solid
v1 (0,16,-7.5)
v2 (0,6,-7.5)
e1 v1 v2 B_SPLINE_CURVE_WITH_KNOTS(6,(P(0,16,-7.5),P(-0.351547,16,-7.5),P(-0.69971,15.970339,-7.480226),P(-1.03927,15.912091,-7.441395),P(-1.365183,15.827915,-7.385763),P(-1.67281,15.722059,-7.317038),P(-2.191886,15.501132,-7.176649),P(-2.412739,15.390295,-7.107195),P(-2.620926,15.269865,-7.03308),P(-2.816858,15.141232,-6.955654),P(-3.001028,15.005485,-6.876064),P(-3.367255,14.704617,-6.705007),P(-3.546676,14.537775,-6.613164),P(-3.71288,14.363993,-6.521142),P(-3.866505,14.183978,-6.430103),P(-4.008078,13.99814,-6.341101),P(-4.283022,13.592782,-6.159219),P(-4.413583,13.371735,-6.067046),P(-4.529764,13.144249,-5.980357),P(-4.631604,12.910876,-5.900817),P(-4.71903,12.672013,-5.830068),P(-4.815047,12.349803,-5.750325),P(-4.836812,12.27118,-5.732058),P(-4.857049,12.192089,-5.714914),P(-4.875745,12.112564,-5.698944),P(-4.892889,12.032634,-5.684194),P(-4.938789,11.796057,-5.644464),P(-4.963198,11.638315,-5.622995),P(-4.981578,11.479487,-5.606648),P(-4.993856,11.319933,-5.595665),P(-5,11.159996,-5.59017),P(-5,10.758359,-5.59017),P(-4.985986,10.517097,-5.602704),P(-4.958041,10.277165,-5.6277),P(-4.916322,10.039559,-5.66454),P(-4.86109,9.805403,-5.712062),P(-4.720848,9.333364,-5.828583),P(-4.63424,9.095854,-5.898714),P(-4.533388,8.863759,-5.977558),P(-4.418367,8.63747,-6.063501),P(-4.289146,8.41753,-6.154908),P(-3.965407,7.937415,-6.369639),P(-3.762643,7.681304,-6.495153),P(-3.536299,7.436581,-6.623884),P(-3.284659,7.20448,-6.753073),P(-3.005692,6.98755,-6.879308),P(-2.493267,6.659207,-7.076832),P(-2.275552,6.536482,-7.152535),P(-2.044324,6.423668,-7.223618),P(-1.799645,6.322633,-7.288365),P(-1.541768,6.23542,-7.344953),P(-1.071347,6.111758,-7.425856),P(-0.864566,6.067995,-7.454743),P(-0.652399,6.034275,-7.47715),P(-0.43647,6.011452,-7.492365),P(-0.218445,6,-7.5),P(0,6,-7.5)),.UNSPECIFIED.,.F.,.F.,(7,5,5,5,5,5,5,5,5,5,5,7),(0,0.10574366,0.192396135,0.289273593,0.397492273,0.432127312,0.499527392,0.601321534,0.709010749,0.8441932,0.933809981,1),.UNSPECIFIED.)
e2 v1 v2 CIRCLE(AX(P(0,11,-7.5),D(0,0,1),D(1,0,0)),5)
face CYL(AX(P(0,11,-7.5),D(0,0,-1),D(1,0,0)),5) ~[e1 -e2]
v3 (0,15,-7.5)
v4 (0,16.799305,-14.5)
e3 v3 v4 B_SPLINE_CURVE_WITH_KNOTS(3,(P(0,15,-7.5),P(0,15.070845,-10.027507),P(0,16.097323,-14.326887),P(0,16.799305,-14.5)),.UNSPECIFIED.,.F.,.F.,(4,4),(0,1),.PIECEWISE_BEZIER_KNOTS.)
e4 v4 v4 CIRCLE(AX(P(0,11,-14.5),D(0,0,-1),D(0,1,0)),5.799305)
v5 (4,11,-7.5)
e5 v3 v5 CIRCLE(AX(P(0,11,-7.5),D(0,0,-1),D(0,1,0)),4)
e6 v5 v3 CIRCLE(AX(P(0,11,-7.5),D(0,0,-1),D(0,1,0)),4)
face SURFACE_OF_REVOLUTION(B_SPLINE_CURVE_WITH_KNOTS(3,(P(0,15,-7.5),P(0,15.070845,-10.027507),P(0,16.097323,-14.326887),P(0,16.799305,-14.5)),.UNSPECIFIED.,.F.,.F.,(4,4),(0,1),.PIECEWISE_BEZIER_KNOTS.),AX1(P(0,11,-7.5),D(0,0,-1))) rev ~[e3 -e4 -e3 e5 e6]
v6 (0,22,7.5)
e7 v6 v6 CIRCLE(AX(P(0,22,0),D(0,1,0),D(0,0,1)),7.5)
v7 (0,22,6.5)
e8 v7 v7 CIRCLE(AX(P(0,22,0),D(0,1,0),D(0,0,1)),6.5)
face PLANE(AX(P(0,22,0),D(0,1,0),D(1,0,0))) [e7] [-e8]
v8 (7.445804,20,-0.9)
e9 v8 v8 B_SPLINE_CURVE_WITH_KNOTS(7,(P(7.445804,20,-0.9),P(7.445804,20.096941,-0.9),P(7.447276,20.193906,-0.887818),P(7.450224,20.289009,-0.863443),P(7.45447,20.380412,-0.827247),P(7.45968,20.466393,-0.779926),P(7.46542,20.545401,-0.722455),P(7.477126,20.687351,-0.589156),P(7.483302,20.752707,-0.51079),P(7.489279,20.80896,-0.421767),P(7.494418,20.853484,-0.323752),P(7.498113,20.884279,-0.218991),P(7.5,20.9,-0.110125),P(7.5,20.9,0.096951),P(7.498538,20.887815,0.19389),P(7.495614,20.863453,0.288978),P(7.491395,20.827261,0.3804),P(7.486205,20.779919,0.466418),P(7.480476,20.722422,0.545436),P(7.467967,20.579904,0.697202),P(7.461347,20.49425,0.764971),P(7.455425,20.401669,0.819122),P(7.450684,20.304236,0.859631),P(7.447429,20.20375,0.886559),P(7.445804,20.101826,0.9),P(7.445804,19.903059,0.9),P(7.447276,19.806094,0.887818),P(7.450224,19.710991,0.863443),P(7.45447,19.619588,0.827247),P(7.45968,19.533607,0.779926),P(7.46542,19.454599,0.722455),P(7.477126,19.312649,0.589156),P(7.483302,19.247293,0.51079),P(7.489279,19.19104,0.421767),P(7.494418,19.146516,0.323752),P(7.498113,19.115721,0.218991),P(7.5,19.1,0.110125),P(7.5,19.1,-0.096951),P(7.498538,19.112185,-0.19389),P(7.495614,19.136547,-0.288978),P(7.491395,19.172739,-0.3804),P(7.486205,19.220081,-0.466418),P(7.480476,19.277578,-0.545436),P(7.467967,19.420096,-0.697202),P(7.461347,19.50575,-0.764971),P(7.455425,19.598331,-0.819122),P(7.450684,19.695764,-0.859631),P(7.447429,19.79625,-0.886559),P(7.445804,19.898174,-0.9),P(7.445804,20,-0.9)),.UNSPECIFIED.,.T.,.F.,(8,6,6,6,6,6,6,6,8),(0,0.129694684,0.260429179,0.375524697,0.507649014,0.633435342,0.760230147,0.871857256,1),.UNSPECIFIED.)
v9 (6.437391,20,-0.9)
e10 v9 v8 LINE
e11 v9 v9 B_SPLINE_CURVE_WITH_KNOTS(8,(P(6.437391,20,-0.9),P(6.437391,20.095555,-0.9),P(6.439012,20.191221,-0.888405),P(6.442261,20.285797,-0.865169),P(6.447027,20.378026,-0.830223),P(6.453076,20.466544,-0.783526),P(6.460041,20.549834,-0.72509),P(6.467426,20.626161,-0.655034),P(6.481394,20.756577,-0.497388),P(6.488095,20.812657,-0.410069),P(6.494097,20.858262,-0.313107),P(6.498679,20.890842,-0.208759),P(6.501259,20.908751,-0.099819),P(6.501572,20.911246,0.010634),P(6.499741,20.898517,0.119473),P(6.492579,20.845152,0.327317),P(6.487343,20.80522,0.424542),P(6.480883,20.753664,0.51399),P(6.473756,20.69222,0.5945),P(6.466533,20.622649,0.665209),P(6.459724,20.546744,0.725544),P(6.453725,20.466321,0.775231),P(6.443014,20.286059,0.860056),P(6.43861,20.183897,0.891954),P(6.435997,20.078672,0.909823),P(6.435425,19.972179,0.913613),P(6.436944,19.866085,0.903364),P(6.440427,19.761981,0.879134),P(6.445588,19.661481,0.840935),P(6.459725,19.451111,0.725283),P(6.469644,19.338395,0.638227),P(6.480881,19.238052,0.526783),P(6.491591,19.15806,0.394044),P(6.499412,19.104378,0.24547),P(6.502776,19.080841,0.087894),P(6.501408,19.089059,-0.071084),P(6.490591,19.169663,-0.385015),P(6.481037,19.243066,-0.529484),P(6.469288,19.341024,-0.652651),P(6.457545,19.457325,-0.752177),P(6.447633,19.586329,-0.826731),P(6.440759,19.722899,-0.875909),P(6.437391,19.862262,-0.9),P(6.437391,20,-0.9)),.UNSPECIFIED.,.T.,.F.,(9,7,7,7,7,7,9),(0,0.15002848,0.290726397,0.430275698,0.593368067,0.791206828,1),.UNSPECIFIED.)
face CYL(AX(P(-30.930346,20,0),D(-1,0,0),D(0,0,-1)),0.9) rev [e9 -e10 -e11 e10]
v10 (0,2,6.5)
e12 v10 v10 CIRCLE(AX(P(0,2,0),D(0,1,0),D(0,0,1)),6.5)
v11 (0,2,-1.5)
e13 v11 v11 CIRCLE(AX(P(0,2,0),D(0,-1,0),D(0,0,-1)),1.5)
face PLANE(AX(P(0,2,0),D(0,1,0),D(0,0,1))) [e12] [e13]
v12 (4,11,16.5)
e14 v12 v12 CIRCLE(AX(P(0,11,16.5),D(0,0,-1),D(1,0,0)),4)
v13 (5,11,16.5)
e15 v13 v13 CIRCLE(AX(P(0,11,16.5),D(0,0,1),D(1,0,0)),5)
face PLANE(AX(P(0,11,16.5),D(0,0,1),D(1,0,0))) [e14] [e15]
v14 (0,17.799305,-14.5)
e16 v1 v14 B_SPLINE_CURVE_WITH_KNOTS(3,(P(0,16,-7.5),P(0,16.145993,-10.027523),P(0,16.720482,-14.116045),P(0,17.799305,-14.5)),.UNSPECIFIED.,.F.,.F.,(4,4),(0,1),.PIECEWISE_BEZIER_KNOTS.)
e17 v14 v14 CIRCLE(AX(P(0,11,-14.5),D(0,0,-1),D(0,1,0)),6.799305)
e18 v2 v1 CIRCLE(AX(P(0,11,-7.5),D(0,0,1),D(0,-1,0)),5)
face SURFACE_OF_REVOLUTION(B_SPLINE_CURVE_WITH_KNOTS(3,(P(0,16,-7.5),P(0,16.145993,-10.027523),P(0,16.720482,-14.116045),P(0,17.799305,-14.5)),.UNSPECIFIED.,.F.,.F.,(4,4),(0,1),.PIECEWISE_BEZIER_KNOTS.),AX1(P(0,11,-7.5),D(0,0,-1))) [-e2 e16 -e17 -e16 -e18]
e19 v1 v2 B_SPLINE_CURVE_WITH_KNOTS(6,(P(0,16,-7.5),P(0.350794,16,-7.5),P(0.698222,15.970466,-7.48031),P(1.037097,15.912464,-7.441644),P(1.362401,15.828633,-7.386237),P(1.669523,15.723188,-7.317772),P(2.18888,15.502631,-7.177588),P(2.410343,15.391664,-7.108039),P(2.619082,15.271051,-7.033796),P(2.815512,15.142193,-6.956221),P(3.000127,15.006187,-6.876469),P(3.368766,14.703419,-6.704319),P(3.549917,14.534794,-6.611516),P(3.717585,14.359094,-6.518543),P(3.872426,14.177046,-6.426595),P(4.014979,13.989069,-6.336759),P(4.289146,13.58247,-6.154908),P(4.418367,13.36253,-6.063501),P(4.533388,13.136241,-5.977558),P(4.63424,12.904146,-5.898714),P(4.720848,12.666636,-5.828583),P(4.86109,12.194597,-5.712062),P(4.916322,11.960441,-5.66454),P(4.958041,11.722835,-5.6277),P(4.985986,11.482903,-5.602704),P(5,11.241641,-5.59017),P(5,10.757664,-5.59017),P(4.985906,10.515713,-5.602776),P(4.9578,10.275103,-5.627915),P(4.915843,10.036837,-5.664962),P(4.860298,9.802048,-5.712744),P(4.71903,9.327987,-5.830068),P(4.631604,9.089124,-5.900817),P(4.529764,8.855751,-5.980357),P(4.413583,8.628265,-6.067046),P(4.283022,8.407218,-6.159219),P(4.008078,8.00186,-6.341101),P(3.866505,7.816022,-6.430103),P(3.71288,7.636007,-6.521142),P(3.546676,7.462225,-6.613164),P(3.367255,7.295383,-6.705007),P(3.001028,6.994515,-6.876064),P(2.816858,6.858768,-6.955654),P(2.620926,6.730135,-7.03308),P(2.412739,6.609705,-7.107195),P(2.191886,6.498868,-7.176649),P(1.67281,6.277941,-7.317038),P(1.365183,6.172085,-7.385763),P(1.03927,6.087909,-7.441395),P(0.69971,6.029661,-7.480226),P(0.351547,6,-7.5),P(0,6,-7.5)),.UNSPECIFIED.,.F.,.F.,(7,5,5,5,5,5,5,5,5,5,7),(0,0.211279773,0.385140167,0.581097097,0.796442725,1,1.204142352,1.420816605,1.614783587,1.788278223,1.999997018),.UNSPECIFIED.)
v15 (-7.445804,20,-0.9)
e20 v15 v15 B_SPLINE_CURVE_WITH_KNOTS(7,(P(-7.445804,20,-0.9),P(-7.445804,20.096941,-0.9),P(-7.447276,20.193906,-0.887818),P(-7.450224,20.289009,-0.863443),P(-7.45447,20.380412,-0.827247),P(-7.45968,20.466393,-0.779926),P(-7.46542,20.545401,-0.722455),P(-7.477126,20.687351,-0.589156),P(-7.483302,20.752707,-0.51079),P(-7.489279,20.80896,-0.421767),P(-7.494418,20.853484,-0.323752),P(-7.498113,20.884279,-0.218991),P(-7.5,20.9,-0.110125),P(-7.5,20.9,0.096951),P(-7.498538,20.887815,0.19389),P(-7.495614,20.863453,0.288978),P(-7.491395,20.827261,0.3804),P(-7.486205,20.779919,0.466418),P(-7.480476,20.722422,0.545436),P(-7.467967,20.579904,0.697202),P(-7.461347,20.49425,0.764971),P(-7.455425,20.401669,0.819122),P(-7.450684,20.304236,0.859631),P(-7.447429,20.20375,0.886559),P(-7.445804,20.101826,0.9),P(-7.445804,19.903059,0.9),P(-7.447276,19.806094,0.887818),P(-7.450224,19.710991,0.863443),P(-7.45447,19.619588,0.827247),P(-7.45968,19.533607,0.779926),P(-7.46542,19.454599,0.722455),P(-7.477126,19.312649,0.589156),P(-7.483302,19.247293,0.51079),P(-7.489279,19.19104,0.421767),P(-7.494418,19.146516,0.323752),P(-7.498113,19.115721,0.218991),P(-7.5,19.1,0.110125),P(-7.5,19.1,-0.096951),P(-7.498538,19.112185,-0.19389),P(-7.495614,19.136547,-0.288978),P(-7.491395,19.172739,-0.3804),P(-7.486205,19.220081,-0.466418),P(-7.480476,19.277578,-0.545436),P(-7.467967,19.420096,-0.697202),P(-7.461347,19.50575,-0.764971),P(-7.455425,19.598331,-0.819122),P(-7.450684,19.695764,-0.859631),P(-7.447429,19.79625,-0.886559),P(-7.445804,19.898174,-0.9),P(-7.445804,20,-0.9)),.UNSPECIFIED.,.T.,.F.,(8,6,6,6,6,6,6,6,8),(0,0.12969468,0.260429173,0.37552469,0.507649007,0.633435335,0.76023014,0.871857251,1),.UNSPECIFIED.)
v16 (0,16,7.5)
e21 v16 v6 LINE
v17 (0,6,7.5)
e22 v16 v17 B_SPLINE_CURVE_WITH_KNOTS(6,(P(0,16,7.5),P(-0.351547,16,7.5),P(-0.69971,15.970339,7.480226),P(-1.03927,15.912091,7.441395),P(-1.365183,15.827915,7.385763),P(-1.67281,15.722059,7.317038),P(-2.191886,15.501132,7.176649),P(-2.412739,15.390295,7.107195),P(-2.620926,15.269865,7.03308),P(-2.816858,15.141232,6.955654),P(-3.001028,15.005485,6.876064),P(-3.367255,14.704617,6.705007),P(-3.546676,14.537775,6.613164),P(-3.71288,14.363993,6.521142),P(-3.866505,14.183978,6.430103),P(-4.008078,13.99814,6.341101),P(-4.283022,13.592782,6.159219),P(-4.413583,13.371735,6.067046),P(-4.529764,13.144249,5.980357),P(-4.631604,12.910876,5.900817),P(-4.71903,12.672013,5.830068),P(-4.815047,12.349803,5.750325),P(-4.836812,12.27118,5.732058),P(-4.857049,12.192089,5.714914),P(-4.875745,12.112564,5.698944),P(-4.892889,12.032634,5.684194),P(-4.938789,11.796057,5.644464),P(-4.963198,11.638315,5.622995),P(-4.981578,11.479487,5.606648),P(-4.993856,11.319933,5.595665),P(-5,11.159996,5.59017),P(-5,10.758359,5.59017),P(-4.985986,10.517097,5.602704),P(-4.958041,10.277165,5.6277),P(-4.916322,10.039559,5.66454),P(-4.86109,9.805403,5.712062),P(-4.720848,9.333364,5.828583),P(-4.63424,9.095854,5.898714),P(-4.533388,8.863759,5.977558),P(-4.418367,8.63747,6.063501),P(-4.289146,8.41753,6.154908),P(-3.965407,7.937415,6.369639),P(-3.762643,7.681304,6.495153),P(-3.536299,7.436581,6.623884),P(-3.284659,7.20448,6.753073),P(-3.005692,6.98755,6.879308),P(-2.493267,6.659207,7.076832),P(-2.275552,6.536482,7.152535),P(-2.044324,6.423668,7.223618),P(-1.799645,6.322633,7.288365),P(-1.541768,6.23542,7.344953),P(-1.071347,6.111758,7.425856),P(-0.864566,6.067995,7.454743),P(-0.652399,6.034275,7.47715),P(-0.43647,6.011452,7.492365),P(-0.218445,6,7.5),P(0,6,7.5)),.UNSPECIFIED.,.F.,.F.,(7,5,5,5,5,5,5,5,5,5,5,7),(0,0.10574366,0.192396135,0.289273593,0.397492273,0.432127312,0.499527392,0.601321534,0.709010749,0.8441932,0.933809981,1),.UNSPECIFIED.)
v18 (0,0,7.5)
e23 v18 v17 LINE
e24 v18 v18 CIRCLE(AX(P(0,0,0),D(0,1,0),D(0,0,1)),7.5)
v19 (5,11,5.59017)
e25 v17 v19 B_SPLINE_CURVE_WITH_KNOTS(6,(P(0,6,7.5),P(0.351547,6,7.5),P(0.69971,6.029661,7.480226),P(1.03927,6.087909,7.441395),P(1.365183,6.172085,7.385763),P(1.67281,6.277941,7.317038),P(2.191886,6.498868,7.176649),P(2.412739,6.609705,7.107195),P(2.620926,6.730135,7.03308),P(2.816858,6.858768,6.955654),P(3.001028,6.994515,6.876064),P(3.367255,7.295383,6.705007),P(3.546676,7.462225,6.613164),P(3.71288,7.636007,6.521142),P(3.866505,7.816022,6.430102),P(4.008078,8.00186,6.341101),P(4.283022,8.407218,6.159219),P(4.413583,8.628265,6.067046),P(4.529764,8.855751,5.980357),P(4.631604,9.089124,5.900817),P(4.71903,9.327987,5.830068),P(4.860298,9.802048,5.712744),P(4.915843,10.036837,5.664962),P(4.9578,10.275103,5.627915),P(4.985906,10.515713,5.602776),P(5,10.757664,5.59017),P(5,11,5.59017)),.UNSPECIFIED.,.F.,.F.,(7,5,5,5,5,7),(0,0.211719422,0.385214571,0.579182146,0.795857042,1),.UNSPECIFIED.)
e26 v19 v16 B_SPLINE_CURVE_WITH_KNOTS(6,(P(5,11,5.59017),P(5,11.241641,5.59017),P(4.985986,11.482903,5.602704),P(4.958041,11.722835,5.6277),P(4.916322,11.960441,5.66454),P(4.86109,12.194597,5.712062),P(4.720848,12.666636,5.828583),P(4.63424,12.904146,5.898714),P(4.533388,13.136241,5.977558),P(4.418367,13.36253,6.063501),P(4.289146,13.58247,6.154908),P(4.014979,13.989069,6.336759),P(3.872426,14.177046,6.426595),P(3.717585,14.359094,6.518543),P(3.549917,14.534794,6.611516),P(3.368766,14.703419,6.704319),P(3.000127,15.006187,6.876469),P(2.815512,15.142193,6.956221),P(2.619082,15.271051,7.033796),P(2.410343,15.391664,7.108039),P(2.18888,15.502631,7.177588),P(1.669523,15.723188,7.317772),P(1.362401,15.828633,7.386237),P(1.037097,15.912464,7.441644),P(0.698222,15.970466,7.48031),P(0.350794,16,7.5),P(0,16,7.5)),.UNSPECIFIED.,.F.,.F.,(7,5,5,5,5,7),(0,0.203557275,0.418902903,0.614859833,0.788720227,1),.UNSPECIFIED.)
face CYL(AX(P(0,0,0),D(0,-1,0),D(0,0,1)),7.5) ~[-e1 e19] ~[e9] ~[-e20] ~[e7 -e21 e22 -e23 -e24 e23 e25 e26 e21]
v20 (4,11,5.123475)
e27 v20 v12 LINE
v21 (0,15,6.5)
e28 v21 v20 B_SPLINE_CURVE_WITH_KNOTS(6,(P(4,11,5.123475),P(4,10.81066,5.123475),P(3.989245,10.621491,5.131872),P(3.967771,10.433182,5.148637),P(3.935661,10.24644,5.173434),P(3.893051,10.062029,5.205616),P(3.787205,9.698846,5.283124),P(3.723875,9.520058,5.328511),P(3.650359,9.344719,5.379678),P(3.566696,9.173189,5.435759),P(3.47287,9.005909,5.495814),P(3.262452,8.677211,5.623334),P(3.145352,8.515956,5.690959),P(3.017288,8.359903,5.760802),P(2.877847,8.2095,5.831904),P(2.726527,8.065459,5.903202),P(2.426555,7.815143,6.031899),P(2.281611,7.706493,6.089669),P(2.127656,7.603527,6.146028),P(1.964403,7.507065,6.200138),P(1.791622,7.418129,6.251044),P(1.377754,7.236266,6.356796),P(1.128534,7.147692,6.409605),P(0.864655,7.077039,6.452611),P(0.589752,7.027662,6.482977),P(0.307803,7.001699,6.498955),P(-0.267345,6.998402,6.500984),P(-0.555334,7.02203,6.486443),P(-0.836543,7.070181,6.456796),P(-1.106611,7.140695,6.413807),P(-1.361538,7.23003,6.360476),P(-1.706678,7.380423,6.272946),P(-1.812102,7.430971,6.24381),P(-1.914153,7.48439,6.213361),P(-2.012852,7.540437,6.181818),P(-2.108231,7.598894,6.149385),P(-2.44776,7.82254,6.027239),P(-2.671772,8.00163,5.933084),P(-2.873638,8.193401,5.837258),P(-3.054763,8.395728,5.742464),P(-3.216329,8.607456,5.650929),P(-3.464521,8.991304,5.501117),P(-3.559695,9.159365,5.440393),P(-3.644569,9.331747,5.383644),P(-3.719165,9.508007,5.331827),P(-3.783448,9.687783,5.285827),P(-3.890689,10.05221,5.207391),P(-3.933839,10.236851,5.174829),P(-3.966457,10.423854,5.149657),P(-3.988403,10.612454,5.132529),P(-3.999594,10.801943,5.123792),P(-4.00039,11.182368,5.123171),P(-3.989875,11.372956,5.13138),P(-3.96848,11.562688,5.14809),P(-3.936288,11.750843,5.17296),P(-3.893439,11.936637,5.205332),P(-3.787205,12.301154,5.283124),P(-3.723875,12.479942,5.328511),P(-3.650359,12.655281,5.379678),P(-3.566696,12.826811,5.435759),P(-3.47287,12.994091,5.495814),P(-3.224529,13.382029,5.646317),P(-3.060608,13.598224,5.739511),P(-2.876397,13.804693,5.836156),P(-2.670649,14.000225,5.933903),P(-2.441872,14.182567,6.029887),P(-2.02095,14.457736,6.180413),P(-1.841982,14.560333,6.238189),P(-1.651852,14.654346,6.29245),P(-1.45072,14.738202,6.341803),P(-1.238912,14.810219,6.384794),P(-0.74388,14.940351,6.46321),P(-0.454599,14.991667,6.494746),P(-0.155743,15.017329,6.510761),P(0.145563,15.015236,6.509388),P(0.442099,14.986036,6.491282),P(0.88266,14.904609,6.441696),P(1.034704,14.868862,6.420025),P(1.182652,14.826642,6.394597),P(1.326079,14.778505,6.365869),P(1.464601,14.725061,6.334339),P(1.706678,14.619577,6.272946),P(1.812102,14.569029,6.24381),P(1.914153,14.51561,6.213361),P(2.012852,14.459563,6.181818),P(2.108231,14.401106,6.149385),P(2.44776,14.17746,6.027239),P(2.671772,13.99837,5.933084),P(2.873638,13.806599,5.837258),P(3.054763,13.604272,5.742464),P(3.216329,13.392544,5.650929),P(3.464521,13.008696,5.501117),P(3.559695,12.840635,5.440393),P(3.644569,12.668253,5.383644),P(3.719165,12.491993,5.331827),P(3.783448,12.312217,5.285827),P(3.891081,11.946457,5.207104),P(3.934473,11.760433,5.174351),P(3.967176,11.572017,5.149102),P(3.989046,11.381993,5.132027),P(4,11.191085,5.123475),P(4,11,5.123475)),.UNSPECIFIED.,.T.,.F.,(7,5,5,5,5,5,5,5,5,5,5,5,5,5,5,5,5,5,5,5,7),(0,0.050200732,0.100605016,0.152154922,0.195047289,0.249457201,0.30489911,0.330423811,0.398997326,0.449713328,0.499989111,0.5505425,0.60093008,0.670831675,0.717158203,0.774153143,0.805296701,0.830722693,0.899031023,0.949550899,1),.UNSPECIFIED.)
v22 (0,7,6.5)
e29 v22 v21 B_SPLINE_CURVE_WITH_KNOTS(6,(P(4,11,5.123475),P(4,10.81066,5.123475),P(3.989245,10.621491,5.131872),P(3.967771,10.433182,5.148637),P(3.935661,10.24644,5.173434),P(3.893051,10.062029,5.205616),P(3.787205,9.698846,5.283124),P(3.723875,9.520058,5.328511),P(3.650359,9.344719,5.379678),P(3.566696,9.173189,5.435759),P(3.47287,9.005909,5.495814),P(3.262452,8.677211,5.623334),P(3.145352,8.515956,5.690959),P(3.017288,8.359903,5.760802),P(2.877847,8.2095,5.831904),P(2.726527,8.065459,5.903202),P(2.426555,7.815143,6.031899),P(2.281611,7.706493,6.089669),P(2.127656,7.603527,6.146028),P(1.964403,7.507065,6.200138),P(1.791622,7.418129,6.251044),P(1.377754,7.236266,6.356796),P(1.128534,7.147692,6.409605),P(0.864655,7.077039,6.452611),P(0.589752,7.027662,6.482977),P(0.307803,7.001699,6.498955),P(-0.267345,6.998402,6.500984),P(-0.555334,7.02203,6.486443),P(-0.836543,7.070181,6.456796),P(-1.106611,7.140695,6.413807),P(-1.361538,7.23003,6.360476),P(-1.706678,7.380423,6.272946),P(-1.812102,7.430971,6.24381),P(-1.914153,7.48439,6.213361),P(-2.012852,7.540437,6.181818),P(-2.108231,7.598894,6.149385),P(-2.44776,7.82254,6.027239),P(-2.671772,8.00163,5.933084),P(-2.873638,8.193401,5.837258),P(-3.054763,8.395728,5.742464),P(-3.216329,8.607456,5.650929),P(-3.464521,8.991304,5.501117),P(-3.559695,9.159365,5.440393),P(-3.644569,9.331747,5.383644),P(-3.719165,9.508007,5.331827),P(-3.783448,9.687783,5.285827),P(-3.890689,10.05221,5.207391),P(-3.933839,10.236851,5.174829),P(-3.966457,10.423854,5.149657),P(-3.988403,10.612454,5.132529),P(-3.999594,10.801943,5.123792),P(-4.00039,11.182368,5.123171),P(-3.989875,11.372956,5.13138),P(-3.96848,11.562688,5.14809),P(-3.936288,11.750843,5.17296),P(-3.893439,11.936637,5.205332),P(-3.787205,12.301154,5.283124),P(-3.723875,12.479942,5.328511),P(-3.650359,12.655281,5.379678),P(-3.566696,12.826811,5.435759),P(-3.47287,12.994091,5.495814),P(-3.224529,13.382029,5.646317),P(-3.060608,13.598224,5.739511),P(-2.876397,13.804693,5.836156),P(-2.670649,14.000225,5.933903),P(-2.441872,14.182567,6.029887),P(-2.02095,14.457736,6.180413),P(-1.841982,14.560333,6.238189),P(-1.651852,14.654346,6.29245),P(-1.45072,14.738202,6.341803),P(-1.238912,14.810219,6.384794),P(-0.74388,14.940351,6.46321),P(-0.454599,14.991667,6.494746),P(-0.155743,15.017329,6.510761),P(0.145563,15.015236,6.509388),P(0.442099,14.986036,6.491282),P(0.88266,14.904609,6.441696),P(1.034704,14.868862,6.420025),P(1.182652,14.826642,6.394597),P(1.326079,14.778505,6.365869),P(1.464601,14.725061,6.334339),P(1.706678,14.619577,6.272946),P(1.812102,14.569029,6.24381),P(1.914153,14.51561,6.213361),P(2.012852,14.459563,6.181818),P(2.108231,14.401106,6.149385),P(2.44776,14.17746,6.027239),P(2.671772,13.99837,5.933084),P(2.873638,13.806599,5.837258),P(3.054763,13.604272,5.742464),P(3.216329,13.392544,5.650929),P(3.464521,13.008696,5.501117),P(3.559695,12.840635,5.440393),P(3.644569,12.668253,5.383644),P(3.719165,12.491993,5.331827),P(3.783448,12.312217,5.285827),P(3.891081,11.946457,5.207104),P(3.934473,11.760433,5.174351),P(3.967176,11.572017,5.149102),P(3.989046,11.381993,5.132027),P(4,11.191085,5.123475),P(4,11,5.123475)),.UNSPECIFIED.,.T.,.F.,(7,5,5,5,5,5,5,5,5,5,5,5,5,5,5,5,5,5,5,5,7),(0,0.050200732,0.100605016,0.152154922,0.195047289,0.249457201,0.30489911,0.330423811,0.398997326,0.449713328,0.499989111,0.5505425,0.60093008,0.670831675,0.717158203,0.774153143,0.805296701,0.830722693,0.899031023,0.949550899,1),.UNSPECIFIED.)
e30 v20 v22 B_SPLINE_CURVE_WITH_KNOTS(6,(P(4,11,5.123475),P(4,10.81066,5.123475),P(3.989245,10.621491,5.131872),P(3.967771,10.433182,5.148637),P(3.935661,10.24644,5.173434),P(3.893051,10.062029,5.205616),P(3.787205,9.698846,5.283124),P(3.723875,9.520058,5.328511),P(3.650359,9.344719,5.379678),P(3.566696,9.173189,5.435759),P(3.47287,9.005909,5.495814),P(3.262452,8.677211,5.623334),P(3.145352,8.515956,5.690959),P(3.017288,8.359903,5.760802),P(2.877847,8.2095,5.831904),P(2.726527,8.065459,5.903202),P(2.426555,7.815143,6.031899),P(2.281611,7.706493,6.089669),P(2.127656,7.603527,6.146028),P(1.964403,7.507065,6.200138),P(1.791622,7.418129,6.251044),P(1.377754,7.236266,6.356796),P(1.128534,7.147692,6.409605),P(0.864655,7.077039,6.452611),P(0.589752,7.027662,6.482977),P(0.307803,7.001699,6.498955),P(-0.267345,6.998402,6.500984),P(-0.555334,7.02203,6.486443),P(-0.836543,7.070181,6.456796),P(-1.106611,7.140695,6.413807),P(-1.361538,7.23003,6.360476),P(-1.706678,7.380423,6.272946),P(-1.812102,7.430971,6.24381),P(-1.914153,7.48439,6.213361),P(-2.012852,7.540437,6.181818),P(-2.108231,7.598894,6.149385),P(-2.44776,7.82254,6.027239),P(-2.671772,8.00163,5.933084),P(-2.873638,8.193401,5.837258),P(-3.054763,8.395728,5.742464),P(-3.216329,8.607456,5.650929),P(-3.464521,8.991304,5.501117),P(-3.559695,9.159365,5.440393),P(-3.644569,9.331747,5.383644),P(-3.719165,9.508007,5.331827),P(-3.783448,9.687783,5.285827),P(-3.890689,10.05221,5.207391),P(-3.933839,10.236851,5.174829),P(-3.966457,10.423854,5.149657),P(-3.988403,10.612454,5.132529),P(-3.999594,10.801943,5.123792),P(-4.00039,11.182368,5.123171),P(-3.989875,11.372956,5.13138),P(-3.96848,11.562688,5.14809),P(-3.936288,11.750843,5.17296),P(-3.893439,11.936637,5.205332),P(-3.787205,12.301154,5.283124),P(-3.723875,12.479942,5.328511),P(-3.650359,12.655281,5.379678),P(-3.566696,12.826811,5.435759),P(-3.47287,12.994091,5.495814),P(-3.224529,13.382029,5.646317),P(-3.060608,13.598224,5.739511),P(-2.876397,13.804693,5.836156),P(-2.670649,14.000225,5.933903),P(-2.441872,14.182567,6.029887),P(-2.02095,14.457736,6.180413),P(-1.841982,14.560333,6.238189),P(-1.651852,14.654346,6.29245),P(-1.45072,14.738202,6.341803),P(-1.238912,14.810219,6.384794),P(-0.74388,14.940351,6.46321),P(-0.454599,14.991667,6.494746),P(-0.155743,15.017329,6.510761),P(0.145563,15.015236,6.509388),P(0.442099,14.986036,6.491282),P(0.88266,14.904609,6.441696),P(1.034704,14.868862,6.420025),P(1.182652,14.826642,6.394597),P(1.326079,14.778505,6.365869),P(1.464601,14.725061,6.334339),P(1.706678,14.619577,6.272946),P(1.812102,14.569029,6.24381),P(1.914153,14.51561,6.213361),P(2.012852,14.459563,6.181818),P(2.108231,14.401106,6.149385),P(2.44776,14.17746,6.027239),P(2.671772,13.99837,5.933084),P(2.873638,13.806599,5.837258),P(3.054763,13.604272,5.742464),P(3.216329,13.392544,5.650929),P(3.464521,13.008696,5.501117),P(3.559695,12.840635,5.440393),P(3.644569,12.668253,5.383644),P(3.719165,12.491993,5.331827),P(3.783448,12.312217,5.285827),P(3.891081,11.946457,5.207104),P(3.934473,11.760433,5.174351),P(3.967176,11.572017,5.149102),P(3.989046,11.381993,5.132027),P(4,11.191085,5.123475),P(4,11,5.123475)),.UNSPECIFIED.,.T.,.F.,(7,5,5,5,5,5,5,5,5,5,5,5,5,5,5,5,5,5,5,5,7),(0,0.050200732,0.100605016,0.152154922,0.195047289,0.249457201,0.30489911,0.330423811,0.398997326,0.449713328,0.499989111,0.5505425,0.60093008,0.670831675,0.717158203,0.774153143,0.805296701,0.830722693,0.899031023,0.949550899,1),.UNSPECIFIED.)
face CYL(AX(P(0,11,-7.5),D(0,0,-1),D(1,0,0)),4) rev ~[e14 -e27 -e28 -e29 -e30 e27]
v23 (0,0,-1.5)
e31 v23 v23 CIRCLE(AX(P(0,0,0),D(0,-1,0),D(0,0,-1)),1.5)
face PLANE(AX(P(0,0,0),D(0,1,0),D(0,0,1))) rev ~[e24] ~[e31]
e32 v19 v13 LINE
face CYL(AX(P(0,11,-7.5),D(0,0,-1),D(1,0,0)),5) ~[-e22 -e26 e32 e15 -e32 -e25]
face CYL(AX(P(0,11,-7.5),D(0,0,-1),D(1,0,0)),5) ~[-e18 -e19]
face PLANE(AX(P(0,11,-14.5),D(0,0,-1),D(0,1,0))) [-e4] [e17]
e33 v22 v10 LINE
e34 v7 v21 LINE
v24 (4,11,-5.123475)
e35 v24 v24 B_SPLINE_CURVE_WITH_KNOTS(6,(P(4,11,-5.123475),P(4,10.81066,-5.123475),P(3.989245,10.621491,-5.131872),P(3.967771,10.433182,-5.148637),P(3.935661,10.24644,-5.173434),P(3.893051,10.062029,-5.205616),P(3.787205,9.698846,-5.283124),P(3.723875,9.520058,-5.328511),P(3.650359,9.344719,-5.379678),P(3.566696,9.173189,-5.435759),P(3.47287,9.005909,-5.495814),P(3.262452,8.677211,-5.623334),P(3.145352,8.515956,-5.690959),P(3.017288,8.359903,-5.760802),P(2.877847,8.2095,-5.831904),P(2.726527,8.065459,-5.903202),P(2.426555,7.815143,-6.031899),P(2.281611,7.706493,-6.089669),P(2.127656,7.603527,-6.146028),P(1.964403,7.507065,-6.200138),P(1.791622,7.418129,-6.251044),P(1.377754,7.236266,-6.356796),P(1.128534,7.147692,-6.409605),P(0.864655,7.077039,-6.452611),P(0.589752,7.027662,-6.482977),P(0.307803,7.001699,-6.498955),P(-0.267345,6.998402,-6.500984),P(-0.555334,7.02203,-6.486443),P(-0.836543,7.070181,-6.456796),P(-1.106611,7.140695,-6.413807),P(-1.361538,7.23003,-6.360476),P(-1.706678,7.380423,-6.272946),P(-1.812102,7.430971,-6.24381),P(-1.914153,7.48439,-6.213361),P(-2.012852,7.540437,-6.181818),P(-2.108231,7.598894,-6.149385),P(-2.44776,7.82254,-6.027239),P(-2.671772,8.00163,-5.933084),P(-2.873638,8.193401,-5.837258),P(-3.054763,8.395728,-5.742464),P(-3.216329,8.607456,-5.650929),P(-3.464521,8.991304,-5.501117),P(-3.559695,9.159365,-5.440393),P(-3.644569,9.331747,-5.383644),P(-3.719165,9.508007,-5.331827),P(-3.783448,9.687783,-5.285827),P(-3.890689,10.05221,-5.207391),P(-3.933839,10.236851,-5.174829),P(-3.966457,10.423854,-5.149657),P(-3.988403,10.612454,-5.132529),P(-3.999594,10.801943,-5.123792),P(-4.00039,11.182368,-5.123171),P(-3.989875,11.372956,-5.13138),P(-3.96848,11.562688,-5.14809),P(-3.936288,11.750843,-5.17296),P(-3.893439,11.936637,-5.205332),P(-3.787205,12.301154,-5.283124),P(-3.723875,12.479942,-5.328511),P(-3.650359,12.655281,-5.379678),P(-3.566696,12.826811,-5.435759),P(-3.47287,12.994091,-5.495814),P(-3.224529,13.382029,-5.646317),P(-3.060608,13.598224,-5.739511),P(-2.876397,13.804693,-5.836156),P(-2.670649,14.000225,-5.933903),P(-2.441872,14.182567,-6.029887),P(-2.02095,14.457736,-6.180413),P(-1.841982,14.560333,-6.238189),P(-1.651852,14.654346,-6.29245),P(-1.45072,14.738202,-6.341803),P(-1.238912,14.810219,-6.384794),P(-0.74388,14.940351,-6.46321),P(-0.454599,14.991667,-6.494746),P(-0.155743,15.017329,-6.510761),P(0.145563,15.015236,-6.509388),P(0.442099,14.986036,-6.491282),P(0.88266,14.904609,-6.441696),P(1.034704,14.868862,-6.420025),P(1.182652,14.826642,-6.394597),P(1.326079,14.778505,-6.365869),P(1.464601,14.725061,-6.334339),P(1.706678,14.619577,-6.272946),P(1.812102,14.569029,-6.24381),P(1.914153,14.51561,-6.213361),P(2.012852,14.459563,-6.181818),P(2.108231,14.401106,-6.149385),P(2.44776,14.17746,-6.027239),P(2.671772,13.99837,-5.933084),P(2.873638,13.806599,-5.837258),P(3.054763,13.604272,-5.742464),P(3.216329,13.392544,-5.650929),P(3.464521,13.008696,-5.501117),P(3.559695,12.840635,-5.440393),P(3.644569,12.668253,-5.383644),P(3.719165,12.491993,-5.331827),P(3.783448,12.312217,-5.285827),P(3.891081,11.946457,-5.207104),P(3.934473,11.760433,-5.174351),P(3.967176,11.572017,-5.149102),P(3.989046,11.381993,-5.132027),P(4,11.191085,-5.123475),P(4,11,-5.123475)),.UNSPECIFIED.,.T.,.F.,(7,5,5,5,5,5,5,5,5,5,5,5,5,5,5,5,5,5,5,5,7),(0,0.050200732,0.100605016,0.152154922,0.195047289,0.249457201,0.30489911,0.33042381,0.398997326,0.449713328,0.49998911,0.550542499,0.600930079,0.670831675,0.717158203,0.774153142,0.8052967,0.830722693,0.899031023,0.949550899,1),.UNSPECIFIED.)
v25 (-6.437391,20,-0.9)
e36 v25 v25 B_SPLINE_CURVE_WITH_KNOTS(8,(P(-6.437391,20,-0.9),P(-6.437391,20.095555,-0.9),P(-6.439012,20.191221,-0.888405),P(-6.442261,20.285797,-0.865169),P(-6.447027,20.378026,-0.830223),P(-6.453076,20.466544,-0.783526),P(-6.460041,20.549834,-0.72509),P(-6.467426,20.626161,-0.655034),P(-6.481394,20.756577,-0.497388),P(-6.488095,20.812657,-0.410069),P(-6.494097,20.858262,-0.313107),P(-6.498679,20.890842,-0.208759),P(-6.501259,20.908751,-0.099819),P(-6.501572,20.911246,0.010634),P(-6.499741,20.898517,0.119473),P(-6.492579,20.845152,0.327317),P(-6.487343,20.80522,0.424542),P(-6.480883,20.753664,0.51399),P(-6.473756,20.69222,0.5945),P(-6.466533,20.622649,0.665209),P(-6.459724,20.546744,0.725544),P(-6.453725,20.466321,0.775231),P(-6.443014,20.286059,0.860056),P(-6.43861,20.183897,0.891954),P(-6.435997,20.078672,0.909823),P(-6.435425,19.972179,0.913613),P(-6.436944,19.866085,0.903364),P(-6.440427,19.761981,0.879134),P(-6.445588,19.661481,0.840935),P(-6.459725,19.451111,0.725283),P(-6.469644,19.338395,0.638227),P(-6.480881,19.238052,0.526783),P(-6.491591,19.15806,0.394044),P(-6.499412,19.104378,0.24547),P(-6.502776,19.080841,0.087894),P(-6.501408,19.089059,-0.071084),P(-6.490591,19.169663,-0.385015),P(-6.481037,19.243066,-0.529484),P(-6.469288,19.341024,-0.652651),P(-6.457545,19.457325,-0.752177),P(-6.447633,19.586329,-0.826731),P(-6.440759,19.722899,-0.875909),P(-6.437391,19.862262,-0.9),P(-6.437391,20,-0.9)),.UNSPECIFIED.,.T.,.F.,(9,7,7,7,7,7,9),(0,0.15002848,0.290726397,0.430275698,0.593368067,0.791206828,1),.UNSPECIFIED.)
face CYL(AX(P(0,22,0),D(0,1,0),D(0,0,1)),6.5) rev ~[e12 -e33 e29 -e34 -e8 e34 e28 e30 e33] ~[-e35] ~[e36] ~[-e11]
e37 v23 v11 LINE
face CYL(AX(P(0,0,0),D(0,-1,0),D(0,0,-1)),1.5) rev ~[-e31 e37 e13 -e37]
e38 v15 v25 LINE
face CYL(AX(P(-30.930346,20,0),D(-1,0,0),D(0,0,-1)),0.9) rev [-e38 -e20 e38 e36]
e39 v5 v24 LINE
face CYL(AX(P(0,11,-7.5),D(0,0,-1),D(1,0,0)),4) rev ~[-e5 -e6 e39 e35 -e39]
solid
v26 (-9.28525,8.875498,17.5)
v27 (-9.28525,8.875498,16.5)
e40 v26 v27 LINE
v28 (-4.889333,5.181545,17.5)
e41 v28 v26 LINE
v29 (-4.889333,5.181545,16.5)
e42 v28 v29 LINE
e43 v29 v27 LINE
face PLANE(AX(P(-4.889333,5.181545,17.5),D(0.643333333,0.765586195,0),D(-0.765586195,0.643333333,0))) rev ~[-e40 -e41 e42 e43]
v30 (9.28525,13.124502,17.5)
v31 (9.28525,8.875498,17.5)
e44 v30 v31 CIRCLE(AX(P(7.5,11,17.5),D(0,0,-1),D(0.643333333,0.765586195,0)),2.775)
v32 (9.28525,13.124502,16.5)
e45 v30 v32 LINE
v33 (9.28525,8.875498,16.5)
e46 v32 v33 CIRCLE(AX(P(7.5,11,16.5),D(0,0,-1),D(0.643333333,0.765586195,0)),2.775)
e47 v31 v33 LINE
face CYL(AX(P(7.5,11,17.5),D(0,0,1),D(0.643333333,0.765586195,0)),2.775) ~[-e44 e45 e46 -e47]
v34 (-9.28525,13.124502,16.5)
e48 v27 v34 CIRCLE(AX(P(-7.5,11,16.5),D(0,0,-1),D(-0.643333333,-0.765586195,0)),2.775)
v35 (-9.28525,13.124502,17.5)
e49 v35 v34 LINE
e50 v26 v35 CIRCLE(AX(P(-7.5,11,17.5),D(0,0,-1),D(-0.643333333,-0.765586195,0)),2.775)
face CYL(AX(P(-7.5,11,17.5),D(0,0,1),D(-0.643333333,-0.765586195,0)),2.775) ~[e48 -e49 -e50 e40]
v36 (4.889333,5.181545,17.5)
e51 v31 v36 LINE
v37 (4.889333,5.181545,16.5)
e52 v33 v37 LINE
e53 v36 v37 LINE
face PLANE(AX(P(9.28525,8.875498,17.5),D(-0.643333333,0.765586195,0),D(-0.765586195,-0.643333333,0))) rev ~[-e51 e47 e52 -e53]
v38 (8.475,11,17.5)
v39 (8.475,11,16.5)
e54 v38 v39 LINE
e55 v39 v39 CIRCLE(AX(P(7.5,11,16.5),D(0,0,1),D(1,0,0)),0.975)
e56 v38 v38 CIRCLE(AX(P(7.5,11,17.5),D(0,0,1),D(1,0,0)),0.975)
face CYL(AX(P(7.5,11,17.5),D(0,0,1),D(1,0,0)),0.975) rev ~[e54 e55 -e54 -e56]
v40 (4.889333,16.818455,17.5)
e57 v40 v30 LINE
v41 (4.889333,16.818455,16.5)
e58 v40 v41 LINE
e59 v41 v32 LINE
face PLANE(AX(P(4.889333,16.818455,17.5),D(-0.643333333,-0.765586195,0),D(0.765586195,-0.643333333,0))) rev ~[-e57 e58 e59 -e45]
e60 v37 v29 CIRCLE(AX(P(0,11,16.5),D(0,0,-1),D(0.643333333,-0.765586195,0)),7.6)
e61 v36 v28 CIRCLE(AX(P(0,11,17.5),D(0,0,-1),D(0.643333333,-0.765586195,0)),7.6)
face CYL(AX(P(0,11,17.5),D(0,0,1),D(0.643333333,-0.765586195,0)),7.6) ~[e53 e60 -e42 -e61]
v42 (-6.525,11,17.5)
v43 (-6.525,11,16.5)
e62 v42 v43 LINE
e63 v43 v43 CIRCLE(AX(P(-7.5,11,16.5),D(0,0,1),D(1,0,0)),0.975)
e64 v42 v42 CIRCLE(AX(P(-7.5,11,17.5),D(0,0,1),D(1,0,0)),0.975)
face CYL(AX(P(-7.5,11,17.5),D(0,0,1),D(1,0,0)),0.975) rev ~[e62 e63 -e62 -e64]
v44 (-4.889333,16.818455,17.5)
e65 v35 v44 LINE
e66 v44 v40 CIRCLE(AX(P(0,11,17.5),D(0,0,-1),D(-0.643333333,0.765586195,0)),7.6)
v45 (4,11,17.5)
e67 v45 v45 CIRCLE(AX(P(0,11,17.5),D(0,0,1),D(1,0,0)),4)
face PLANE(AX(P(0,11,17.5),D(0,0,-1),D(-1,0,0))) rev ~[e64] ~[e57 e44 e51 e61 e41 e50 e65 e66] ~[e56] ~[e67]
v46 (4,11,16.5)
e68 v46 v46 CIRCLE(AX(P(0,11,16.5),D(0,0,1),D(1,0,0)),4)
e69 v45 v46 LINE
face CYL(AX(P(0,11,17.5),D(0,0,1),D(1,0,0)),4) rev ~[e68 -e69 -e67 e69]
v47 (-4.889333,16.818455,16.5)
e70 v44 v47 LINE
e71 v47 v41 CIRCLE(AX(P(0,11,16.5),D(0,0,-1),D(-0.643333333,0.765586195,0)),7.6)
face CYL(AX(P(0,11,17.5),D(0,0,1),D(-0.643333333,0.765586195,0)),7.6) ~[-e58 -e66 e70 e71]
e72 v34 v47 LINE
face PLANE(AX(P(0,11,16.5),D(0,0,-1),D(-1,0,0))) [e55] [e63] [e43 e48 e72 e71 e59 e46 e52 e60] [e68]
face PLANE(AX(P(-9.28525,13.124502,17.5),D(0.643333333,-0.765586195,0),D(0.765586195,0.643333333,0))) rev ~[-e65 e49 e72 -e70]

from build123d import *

# Parameters (mm, degrees)
SKETCH1_R                = 7.5
SKETCH1_R_2              = 6.5
BOSS_EXTRUDE1_DEPTH      = 22
BOSS_EXTRUDE2_START      = 17.5
SKETCH2_R                = 4
SKETCH2_R_2              = 0.975
BOSS_EXTRUDE2_DEPTH      = 1
BOSS_EXTRUDE3_DEPTH      = 16.5
BOSS_EXTRUDE3_DEPTH_BACK = 7.5
SKETCH3_R                = 5
SKETCH9_R                = 4
CUT_EXTRUDE1_DEPTH       = 35.85076225
SKETCH11_R               = 6.5
BOSS_EXTRUDE5_DEPTH      = 22
SKETCH12_R               = 6.5
CUT_EXTRUDE2_DEPTH       = 20
SKETCH13_R               = 1.5
CUT_EXTRUDE3_DEPTH       = 30.930346296
CUT_EXTRUDE4_DEPTH       = 30.930346296
CUT_EXTRUDE4_DEPTH_BACK  = 30.930346296
SKETCH14_R               = 0.9


with BuildPart() as part:
    # Sketch1 → Boss-Extrude1 (new body)
    with BuildSketch(Plane(origin=(0, 0, 0), x_dir=(1, 0, 0), z_dir=(0, 1, 0))):
        with Locations(Location((0, 0, 0), (0, 0, 270))):
            Circle(SKETCH1_R)
        with Locations(Location((0, 0, 0), (0, 0, 270))):
            Circle(SKETCH1_R_2, mode=Mode.SUBTRACT)
    extrude(amount=BOSS_EXTRUDE1_DEPTH)



with BuildPart() as body_2:
    # Sketch2 → Boss-Extrude2 (new body)
    with BuildSketch(Plane.XY.offset(BOSS_EXTRUDE2_START)):
        with BuildLine():
            Line((-9.28525, 13.124501692), (-4.889333333, 16.818455083))
            ThreePointArc((-4.889333333, 16.818455083), (0, 18.6), (4.889333333, 16.818455083))
            Line((4.889333333, 16.818455083), (9.28525, 13.124501692))
            ThreePointArc((9.28525, 13.124501692), (10.275, 11), (9.28525, 8.875498308))
            Line((9.28525, 8.875498308), (4.889333333, 5.181544917))
            ThreePointArc((4.889333333, 5.181544917), (0, 3.4), (-4.889333333, 5.181544917))
            Line((-4.889333333, 5.181544917), (-9.28525, 8.875498308))
            ThreePointArc((-9.28525, 8.875498308), (-10.275, 11), (-9.28525, 13.124501692))
        make_face()
        with Locations((0, 11)):
            Circle(SKETCH2_R, mode=Mode.SUBTRACT)
        with Locations((-7.5, 11)):
            Circle(SKETCH2_R_2, mode=Mode.SUBTRACT)
        with Locations((7.5, 11)):
            Circle(SKETCH2_R_2, mode=Mode.SUBTRACT)
    extrude(amount=-BOSS_EXTRUDE2_DEPTH)


with BuildPart() as body_3:
    # Sketch3 → Boss-Extrude3 (new, two sides: drawn at the far end of the back side and taken through both)
    with BuildSketch(Plane.XY.offset(-BOSS_EXTRUDE3_DEPTH_BACK)):
        with Locations((0, 11)):
            Circle(SKETCH3_R)
    extrude(amount=BOSS_EXTRUDE3_DEPTH + BOSS_EXTRUDE3_DEPTH_BACK)


with BuildPart() as part_1:
    add(part.part)

    add(body_3.part)  # Revolve1 merges body 3
    # Sketch8 → Revolve1 (revolve)
    with BuildSketch(Plane(origin=(0, 0, 0), x_dir=(0, 0, -1), z_dir=(1, 0, 0))):
        with BuildLine():
            Line((14.5, 17.799305288), (14.5, 16.799305288))
            add(Edge.make_bspline(
                [(7.5, 15), (10.027506541, 15.070845427), (14.326887273, 16.097322761), (14.5, 16.799305288)],
                knots=[0, 0, 0, 0, 1, 1, 1, 1], degree=3))
            Line((7.5, 15), (7.5, 16))
            add(Edge.make_bspline(
                [(7.5, 16), (10.027523271, 16.145992602), (14.116044918, 16.720481547), (14.5, 17.799305288)],
                knots=[0, 0, 0, 0, 1, 1, 1, 1], degree=3))
        make_face()
    revolve(axis=Axis((0, 11, -7.5), (0, 0, -1)))

    # Sketch9 → Cut-Extrude1 (cut, through all)
    with BuildSketch(Plane(origin=(0, 0, -7.5), x_dir=(-1, 0, 0), z_dir=(0, 0, -1))):
        with Locations(Location((0, 11, 0), (0, 0, 180))):
            Circle(SKETCH9_R)
    extrude(amount=-CUT_EXTRUDE1_DEPTH, mode=Mode.SUBTRACT)

    # Sketch11 → Boss-Extrude5 (add, through all)
    with BuildSketch(Plane(origin=(0, 22, 0), x_dir=(1, 0, 0), z_dir=(0, 1, 0))):
        Circle(SKETCH11_R)
    extrude(amount=-BOSS_EXTRUDE5_DEPTH)

    # Sketch12 → Cut-Extrude2 (cut)
    with BuildSketch(Plane(origin=(0, 22, 0), x_dir=(1, 0, 0), z_dir=(0, 1, 0))):
        with Locations(Location((0, 0, 0), (0, 0, 270))):
            Circle(SKETCH12_R)
    extrude(amount=-CUT_EXTRUDE2_DEPTH, mode=Mode.SUBTRACT)

    # Sketch13 → Cut-Extrude3 (cut, through all)
    with BuildSketch(Plane.XZ):
        with Locations(Location((0, 0, 0), (0, 0, 270))):
            Circle(SKETCH13_R)
    extrude(amount=-CUT_EXTRUDE3_DEPTH, mode=Mode.SUBTRACT)

    # Sketch14 → Cut-Extrude4 (cut, two sides: drawn at the far end of the back side and taken through both)
    with BuildSketch(Plane(origin=(0, 0, 0), x_dir=(0, 0, -1), z_dir=(1, 0, 0)).offset(-CUT_EXTRUDE4_DEPTH_BACK)):
        with Locations((0, 20)):
            Circle(SKETCH14_R)
    extrude(amount=CUT_EXTRUDE4_DEPTH + CUT_EXTRUDE4_DEPTH_BACK, mode=Mode.SUBTRACT)


solid = Compound([body_2.part, part_1.part])
